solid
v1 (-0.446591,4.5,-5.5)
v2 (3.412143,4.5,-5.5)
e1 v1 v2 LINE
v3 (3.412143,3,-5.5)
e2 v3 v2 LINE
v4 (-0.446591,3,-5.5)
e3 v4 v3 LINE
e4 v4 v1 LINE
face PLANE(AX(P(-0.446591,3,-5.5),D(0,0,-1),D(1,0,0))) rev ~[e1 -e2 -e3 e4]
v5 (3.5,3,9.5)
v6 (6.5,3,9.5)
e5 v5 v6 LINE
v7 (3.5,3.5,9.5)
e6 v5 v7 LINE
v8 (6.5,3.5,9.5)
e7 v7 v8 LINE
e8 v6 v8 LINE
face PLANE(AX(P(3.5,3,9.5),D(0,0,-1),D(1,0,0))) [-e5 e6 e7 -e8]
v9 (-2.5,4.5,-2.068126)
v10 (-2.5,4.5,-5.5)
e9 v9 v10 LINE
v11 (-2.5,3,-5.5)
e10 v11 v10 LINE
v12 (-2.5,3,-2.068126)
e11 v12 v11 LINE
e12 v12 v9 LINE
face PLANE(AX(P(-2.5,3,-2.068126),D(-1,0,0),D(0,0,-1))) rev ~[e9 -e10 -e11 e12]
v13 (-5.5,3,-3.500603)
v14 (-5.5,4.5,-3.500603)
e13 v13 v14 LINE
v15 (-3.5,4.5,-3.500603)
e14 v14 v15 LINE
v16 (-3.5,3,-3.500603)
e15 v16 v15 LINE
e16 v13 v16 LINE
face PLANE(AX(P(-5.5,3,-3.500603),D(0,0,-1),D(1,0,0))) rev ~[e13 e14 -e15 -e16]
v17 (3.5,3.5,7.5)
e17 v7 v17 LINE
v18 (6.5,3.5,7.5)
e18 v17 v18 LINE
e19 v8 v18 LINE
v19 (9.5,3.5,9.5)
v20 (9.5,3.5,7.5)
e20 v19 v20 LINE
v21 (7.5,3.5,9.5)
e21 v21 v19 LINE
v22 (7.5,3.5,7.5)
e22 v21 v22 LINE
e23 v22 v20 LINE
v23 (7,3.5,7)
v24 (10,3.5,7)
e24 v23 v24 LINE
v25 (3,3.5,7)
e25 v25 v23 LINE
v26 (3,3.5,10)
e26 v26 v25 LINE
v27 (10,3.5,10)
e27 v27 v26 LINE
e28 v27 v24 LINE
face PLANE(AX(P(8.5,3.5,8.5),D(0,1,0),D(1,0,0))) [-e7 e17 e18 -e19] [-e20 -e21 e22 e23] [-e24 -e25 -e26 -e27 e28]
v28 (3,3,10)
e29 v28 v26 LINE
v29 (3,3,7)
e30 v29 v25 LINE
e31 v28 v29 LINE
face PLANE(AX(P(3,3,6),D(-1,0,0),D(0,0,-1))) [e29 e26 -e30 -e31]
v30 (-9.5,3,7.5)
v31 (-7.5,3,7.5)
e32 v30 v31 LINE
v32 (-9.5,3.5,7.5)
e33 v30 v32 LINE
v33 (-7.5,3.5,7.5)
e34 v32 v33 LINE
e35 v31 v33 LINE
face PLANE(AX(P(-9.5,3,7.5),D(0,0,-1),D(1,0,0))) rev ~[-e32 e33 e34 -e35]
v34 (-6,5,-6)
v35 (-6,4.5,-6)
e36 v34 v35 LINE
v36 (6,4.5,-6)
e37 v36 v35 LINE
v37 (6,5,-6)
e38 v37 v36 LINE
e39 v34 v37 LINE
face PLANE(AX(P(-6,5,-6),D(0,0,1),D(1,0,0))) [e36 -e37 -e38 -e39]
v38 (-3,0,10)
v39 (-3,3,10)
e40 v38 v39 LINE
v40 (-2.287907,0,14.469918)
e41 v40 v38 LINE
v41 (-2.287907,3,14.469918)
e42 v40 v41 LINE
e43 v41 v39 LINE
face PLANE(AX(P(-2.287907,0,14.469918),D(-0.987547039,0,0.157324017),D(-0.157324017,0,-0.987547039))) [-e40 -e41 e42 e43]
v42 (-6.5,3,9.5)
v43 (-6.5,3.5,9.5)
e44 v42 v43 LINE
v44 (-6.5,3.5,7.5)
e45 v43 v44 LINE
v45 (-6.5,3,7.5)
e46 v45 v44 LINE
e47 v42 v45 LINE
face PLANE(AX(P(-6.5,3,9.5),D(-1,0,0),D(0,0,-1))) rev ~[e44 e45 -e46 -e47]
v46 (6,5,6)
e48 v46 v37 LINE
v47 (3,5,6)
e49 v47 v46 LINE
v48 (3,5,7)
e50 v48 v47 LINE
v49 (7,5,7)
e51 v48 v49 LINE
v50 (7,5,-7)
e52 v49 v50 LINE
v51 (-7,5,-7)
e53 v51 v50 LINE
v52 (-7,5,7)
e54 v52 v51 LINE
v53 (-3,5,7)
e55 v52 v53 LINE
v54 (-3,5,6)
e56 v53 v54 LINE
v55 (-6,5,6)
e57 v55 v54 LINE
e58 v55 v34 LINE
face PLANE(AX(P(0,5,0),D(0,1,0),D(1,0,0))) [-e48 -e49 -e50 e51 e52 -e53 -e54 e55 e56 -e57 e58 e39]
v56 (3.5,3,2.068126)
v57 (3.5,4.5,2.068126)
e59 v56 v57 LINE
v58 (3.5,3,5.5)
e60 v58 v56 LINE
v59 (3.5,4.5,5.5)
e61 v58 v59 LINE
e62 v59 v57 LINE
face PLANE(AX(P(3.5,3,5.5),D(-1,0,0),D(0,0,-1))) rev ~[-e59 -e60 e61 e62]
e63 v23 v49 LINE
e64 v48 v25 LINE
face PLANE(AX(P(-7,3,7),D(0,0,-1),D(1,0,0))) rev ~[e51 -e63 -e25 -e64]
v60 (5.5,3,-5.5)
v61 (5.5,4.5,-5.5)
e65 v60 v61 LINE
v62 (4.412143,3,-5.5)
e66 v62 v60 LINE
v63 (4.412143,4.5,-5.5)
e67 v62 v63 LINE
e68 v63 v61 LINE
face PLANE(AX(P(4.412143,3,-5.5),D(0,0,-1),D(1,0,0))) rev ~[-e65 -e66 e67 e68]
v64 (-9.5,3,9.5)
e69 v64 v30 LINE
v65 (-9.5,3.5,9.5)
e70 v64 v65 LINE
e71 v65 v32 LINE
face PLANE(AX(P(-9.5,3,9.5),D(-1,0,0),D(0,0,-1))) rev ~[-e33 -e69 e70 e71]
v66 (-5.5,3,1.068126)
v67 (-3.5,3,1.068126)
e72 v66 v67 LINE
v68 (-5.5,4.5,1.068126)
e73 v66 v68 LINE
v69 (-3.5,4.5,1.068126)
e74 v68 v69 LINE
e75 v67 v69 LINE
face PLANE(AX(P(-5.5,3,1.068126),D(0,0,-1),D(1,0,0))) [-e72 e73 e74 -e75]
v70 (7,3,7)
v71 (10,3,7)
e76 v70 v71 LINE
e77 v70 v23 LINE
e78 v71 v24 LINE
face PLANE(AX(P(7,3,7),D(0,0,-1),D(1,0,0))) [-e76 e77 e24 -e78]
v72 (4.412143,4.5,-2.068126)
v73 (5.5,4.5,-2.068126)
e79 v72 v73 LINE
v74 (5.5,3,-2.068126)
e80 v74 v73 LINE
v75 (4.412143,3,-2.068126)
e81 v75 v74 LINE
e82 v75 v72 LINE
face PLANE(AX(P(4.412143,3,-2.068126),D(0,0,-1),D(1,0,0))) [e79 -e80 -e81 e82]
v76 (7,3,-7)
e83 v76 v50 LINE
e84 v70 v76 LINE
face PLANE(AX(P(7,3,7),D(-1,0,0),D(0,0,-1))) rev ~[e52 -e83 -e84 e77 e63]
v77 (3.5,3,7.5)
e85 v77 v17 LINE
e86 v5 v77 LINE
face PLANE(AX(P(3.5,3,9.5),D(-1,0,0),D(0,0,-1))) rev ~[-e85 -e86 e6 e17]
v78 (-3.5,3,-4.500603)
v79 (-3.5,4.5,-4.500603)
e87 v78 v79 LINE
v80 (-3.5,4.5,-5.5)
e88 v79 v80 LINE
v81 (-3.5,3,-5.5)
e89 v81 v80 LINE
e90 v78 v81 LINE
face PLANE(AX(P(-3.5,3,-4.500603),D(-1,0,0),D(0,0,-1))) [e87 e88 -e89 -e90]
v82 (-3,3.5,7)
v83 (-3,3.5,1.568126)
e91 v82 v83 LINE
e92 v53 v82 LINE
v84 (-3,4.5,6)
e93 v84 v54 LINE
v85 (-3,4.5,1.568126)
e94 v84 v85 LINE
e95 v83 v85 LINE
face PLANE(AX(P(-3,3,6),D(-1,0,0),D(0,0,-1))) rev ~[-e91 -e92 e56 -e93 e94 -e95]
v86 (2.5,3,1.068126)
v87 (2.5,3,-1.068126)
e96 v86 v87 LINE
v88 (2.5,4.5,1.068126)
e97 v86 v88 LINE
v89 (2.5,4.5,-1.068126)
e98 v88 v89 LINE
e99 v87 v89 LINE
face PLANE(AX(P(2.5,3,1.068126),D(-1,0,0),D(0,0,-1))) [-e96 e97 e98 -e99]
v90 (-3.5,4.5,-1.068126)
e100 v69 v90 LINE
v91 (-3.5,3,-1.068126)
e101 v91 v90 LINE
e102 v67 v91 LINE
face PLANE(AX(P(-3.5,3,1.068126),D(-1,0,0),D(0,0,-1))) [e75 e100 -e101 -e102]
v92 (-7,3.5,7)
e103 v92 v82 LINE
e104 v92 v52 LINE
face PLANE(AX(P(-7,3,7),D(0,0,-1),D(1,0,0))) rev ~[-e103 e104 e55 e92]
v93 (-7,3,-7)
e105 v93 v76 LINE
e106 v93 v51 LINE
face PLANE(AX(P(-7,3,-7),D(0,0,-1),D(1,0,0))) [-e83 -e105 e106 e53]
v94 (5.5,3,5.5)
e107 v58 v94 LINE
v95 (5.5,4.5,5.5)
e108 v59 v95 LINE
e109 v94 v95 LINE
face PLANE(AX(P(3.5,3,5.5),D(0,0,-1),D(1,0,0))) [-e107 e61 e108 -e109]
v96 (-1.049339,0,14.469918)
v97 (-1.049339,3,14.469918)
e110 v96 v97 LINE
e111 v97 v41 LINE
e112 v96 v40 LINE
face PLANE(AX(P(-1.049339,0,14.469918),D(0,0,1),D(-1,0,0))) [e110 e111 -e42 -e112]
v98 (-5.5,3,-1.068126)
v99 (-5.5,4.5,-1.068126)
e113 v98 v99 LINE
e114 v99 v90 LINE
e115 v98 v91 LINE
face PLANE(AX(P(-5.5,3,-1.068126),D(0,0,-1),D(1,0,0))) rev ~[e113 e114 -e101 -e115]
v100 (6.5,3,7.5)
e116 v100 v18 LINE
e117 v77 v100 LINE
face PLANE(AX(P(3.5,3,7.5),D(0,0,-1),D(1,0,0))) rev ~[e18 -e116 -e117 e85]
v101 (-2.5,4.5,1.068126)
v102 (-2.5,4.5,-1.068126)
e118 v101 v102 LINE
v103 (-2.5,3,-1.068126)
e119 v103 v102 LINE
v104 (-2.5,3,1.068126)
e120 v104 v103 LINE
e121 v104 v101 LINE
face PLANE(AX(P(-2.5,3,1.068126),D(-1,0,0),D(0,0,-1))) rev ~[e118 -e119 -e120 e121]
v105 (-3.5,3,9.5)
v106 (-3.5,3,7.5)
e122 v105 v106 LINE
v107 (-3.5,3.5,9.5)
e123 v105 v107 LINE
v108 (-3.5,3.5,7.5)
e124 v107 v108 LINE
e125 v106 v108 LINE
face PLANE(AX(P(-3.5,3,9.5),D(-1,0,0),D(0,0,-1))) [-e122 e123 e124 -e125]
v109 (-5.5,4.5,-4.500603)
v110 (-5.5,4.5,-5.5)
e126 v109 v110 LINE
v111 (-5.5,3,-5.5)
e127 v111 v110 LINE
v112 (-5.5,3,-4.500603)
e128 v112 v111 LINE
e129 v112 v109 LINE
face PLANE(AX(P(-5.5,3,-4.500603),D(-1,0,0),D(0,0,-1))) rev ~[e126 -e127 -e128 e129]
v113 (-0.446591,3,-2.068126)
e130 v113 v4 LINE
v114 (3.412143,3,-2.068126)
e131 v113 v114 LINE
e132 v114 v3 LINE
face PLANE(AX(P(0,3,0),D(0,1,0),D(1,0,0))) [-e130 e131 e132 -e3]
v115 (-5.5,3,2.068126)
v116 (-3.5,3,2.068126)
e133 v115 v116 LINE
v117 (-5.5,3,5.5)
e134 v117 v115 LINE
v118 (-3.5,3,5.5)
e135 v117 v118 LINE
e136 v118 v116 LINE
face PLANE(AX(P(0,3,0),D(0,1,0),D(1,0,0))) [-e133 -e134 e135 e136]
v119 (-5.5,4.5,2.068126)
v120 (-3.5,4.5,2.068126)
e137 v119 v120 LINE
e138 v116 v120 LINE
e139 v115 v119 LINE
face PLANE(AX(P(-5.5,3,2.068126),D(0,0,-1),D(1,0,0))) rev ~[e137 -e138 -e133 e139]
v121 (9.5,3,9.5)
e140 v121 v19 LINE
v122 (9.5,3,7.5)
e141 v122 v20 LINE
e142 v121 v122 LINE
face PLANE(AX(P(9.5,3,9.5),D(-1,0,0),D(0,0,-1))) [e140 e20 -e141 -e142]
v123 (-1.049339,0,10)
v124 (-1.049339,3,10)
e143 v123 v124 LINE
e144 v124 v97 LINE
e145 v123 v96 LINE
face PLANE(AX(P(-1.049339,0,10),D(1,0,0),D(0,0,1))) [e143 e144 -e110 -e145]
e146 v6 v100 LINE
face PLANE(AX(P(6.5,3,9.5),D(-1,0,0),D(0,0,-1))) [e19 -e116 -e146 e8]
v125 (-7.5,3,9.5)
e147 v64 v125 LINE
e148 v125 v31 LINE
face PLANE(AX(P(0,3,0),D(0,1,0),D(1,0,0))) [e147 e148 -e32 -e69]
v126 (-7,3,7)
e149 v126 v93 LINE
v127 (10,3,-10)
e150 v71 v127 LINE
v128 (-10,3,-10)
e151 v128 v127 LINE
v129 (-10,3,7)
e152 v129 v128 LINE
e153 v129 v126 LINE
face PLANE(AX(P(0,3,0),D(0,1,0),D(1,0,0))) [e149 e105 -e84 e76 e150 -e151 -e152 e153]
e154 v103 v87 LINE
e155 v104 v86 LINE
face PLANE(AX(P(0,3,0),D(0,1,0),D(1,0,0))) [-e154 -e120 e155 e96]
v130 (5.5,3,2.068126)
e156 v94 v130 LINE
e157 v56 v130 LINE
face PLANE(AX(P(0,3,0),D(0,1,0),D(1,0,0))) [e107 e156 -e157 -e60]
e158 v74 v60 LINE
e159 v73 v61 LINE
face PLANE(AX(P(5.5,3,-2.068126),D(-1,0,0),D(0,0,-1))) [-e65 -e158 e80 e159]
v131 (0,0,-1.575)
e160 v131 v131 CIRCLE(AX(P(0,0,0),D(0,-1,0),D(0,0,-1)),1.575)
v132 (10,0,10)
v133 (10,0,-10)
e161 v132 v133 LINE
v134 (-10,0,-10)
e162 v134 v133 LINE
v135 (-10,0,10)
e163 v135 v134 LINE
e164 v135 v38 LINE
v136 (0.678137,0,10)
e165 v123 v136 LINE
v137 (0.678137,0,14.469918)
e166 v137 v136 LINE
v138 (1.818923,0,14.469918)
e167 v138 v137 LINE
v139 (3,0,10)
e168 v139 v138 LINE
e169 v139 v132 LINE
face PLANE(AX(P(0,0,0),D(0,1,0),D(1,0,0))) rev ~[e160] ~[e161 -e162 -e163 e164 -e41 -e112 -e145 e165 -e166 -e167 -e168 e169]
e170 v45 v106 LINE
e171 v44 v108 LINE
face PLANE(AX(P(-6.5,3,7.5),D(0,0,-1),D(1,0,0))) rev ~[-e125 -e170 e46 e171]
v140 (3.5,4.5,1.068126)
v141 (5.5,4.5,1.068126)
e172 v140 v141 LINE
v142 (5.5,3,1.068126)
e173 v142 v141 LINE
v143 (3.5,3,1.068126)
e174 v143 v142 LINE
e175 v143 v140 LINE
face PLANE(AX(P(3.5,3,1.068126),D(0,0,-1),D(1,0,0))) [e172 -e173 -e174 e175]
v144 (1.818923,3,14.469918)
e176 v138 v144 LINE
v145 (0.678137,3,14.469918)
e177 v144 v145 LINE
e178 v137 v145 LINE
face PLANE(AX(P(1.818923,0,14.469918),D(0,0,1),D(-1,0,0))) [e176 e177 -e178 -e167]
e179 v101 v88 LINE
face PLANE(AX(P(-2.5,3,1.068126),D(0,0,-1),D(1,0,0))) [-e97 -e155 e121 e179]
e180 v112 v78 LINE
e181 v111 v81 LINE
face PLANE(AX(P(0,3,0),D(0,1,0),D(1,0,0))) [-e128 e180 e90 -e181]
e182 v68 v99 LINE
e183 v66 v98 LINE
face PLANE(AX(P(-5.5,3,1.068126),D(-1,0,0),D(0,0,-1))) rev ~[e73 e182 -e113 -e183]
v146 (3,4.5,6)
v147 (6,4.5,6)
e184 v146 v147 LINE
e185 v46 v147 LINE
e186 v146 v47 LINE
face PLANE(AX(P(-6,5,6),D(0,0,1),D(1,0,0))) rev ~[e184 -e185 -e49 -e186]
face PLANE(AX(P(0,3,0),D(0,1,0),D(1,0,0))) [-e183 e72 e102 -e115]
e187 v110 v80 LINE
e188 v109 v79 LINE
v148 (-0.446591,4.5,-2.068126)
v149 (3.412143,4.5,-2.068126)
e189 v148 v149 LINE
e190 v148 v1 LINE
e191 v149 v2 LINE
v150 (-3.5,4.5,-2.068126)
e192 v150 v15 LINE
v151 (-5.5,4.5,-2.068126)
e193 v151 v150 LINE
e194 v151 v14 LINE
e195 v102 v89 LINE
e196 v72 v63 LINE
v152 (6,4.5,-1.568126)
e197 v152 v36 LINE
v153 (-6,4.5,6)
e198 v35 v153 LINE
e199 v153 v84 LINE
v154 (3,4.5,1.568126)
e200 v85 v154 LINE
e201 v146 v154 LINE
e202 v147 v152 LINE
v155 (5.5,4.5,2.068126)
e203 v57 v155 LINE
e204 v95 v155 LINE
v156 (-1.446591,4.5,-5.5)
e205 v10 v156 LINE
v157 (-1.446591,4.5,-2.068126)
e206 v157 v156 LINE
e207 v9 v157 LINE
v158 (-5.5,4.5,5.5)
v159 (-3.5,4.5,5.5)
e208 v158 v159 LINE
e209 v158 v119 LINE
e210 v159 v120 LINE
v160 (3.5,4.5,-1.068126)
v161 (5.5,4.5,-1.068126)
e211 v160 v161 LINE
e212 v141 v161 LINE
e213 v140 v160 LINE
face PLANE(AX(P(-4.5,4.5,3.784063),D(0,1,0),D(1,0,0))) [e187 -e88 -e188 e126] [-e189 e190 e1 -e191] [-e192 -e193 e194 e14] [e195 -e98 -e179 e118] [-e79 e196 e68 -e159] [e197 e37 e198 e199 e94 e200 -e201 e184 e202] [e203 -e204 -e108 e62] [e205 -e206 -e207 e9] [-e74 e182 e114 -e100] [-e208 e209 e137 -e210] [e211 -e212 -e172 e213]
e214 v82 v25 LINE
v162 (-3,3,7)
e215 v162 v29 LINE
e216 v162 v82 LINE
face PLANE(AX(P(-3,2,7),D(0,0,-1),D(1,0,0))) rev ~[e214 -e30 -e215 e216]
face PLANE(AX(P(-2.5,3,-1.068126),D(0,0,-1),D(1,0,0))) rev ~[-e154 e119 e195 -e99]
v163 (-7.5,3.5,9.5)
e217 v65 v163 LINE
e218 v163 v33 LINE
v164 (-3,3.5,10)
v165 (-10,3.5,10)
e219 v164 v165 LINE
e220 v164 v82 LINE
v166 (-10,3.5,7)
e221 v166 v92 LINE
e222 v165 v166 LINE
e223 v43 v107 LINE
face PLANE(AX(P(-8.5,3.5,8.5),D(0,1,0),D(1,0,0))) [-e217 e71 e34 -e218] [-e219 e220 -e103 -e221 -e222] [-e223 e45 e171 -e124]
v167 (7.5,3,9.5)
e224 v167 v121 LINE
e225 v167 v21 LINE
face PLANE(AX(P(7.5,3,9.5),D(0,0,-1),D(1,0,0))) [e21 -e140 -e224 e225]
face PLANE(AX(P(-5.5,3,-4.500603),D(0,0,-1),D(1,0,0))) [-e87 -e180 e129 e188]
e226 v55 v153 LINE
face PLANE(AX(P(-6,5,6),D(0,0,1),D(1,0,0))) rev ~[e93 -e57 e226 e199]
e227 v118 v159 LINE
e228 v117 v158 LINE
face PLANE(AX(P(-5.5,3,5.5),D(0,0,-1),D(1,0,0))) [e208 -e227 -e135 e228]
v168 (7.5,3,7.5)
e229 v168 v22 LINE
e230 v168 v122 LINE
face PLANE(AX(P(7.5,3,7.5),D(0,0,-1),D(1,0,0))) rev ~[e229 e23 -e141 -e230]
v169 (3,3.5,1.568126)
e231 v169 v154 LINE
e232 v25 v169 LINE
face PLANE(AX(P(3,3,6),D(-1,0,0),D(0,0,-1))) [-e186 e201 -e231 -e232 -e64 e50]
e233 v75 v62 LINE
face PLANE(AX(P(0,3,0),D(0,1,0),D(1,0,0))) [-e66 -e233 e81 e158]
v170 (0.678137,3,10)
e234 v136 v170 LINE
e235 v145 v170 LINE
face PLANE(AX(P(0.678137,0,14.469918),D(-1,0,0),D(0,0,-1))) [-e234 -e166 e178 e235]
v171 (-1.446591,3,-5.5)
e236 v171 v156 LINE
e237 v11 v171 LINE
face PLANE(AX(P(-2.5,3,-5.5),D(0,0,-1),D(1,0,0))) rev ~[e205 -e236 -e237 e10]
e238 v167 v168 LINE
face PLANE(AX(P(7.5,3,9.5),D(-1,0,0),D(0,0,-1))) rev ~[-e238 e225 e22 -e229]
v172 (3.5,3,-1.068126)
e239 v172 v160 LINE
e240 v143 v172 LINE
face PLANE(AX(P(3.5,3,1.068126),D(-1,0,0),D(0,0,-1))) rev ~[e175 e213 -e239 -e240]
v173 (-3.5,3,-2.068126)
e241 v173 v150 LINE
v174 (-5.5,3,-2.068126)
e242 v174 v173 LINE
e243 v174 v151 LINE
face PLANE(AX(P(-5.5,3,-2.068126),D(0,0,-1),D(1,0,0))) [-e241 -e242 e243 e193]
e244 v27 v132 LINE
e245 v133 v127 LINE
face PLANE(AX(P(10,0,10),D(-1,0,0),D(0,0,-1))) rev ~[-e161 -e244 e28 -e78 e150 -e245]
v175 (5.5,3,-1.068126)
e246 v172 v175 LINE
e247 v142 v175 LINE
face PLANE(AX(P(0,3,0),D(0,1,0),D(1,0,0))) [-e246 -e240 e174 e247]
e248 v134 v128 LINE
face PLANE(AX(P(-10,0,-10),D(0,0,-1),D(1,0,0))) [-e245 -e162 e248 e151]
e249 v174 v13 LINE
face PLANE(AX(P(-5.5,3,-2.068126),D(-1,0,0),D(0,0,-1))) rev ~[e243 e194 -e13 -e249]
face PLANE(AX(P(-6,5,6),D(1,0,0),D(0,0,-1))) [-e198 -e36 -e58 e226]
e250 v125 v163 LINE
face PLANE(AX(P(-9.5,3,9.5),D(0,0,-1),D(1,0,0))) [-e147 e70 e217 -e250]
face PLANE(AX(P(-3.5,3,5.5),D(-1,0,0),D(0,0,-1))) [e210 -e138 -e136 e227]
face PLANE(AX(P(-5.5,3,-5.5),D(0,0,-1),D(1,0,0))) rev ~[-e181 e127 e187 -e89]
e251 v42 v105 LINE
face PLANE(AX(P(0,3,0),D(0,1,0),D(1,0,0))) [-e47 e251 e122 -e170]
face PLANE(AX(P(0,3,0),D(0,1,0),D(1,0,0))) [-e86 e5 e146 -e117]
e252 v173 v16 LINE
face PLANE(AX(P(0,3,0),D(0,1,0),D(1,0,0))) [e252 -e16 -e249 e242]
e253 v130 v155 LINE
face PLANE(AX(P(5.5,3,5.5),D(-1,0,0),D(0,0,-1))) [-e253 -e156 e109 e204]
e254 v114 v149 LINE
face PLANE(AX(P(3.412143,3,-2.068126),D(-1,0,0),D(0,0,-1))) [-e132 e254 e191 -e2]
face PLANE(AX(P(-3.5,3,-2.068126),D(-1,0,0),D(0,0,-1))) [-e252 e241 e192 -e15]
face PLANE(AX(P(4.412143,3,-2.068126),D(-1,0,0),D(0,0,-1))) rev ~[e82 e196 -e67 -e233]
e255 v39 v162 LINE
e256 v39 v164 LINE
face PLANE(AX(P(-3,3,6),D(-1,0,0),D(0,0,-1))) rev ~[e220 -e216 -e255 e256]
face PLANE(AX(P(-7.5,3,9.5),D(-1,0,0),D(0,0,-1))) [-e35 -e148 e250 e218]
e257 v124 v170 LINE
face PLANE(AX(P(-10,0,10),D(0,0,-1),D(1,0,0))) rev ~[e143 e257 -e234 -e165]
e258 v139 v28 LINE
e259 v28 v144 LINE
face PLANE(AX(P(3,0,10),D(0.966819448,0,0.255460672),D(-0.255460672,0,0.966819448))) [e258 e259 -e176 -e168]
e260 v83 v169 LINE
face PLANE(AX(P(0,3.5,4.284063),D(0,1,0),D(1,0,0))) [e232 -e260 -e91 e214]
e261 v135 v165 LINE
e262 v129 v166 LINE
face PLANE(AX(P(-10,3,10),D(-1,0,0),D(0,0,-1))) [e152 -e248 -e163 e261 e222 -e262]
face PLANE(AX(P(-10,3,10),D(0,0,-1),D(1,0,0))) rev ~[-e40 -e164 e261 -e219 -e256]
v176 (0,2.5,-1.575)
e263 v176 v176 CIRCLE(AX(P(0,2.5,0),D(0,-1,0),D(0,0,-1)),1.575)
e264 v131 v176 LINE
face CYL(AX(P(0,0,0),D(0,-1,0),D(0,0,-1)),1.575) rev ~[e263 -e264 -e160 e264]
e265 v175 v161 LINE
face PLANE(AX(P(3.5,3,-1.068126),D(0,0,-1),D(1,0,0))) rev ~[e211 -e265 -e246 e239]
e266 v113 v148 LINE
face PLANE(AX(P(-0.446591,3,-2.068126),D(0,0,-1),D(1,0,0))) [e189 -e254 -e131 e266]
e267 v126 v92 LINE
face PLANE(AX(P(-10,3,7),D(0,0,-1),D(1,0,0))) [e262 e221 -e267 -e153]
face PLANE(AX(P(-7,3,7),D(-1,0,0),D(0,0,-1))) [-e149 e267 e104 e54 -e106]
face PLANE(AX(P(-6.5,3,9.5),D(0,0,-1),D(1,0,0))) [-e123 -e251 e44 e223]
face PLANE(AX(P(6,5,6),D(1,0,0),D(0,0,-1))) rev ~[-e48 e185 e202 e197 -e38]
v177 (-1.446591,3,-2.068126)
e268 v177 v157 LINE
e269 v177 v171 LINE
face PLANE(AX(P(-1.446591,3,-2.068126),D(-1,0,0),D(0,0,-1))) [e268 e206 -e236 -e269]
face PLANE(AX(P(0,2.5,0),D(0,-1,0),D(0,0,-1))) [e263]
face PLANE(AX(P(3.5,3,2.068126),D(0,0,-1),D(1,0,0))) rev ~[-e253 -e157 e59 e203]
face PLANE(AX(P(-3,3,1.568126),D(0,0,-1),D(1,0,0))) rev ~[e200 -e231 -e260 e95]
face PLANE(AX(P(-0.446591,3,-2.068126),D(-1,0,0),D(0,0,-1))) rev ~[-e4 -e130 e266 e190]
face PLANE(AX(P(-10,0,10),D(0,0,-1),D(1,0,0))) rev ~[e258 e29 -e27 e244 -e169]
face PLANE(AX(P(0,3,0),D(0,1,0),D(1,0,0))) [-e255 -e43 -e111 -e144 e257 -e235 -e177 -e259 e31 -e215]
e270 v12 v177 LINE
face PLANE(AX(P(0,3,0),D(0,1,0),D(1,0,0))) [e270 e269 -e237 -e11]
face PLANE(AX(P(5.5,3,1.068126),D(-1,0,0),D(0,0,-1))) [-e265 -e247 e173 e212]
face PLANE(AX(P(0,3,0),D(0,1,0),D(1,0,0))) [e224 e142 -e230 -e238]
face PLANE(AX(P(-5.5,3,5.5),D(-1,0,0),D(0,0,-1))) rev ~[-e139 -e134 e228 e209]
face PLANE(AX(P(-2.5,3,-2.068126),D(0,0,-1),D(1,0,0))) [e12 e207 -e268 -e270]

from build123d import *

# Parameters (mm, degrees)
CROQUIS1_W              = 20
CROQUIS1_H              = 20
SALIENTE_EXTRUIR1_DEPTH = 3
CROQUIS2_W              = 14
CROQUIS2_H              = 14
SALIENTE_EXTRUIR2_DEPTH = 2
CROQUIS3_W              = 12
CROQUIS3_H              = 12
CORTAR_EXTRUIR1_DEPTH   = 2
CROQUIS4_W              = 6
CROQUIS4_H              = 2.600399467
CORTAR_EXTRUIR2_DEPTH   = 3
SALIENTE_EXTRUIR3_DEPTH = 3
CROQUIS6_W              = 3
CROQUIS6_H              = 3
CROQUIS6_W_2            = 2
CROQUIS6_H_2            = 2
CROQUIS6_W_3            = 4
SALIENTE_EXTRUIR4_DEPTH = 0.5
CROQUIS7_W              = 6
CROQUIS7_H              = 2.831475003
CORTAR_EXTRUIR3_DEPTH   = 1
CROQUIS8_W              = 1
CROQUIS8_H              = 5.440516932
SALIENTE_EXTRUIR5_DEPTH = 0.5
CROQUIS10_W             = 3
CROQUIS10_H             = 4.43187447
CROQUIS10_W_2           = 2
CROQUIS10_H_2           = 3.43187447
CROQUIS10_H_3           = 3.13625106
CROQUIS10_H_4           = 2.13625106
CROQUIS10_H_5           = 2.43247793
CROQUIS10_H_6           = 1.43247793
CROQUIS10_W_3           = 1.053408661
CROQUIS10_W_4           = 3.858734252
CROQUIS10_W_5           = 5
CROQUIS10_W_6           = 2.087857087
CROQUIS10_W_7           = 1.087857087
CROQUIS10_H_7           = 1.99939654
CROQUIS10_H_8           = 0.99939654
SALIENTE_EXTRUIR6_DEPTH = 1.5
CROQUIS11_W             = 6
CROQUIS11_H             = 5.43187447
SALIENTE_EXTRUIR7_DEPTH = 1.5
CROQUIS12_R             = 1.575
CORTAR_EXTRUIR4_DEPTH   = 2.5


with BuildPart() as part:
    # Croquis1 → Saliente-Extruir1 (new body)
    with BuildSketch(Plane(origin=(0, 0, 0), x_dir=(1, 0, 0), z_dir=(0, 1, 0))):
        Rectangle(CROQUIS1_W, CROQUIS1_H)
    extrude(amount=SALIENTE_EXTRUIR1_DEPTH)

    # Croquis2 → Saliente-Extruir2 (add)
    with BuildSketch(Plane(origin=(0, 3, 0), x_dir=(1, 0, 0), z_dir=(0, 1, 0))):
        Rectangle(CROQUIS2_W, CROQUIS2_H)
    extrude(amount=SALIENTE_EXTRUIR2_DEPTH)

    # Croquis3 → Cortar-Extruir1 (cut)
    with BuildSketch(Plane(origin=(0, 5, 0), x_dir=(1, 0, 0), z_dir=(0, 1, 0))):
        Rectangle(CROQUIS3_W, CROQUIS3_H)
    extrude(amount=-CORTAR_EXTRUIR1_DEPTH, mode=Mode.SUBTRACT)

    # Croquis4 → Cortar-Extruir2 (cut)
    with BuildSketch(Plane(origin=(0, 5, 0), x_dir=(1, 0, 0), z_dir=(0, 1, 0))):
        with Locations((0, -5.699800267)):
            Rectangle(CROQUIS4_W, CROQUIS4_H)
    extrude(amount=-CORTAR_EXTRUIR2_DEPTH, mode=Mode.SUBTRACT)

    # Croquis5 → Saliente-Extruir3 (add)
    with BuildSketch(Plane(origin=(0, 0, 0), x_dir=(1, 0, 0), z_dir=(0, 1, 0))):
        Polygon((-3, -10), (-1.049339158, -10), (-1.049339158, -14.469917755), (-2.287906915, -14.469917755), align=None)
        Polygon((0.678136925, -10), (3, -10), (1.818923018, -14.469917755), (0.678136925, -14.469917755), align=None)
    extrude(amount=SALIENTE_EXTRUIR3_DEPTH)

    # Croquis6 → Saliente-Extruir4 (add)
    # profile 1 of 4: a face of its own
    with BuildSketch(Plane(origin=(0, 3, 0), x_dir=(1, 0, 0), z_dir=(0, 1, 0))):
        with Locations((-8.5, -8.5)):
            Rectangle(CROQUIS6_W, CROQUIS6_H)
        with Locations((-8.5, -8.5)):
            Rectangle(CROQUIS6_W_2, CROQUIS6_H_2, mode=Mode.SUBTRACT)
    # profile 2 of 4: a face of its own
    with BuildSketch(Plane(origin=(0, 3, 0), x_dir=(1, 0, 0), z_dir=(0, 1, 0))):
        with Locations((-5, -8.5)):
            Rectangle(CROQUIS6_W_3, CROQUIS6_H)
        with Locations((-5, -8.5)):
            Rectangle(CROQUIS6_W, CROQUIS6_H_2, mode=Mode.SUBTRACT)
    # profile 3 of 4: a face of its own
    with BuildSketch(Plane(origin=(0, 3, 0), x_dir=(1, 0, 0), z_dir=(0, 1, 0))):
        with Locations((5, -8.5)):
            Rectangle(CROQUIS6_W_3, CROQUIS6_H)
        with Locations((5, -8.5)):
            Rectangle(CROQUIS6_W, CROQUIS6_H_2, mode=Mode.SUBTRACT)
    # profile 4 of 4: a face of its own
    with BuildSketch(Plane(origin=(0, 3, 0), x_dir=(1, 0, 0), z_dir=(0, 1, 0))):
        with Locations((8.5, -8.5)):
            Rectangle(CROQUIS6_W, CROQUIS6_H)
        with Locations((8.5, -8.5)):
            Rectangle(CROQUIS6_W_2, CROQUIS6_H_2, mode=Mode.SUBTRACT)
    extrude(amount=SALIENTE_EXTRUIR4_DEPTH)

    # Croquis7 → Cortar-Extruir3 (cut)
    with BuildSketch(Plane(origin=(0, 3, 0), x_dir=(1, 0, 0), z_dir=(0, 1, 0))):
        with Locations((0, -2.983863032)):
            Rectangle(CROQUIS7_W, CROQUIS7_H)
    extrude(amount=-CORTAR_EXTRUIR3_DEPTH, mode=Mode.SUBTRACT)

    # Croquis8 → Saliente-Extruir5 (add)
    with BuildSketch(Plane(origin=(0, 3, 0), x_dir=(1, 0, 0), z_dir=(0, 1, 0))):
        with Locations((-2.5, -4.288383996)):
            Rectangle(CROQUIS8_W, CROQUIS8_H)
    extrude(amount=-SALIENTE_EXTRUIR5_DEPTH)

    # Croquis10 → Saliente-Extruir6 (add)
    # profile 1 of 10: a face of its own
    with BuildSketch(Plane(origin=(0, 3, 0), x_dir=(1, 0, 0), z_dir=(0, 1, 0))):
        with Locations((-4.5, -3.784062765)):
            Rectangle(CROQUIS10_W, CROQUIS10_H)
        with Locations((-4.5, -3.784062765)):
            Rectangle(CROQUIS10_W_2, CROQUIS10_H_2, mode=Mode.SUBTRACT)
    # profile 2 of 10: a face of its own
    with BuildSketch(Plane(origin=(0, 3, 0), x_dir=(1, 0, 0), z_dir=(0, 1, 0))):
        with Locations((-4.5, 0)):
            Rectangle(CROQUIS10_W, CROQUIS10_H_3)
        with Locations((-4.5, 0)):
            Rectangle(CROQUIS10_W_2, CROQUIS10_H_4, mode=Mode.SUBTRACT)
    # profile 3 of 10: a face of its own
    with BuildSketch(Plane(origin=(0, 3, 0), x_dir=(1, 0, 0), z_dir=(0, 1, 0))):
        with Locations((-4.5, 2.784364495)):
            Rectangle(CROQUIS10_W, CROQUIS10_H_5)
        with Locations((-4.5, 2.784364495)):
            Rectangle(CROQUIS10_W_2, CROQUIS10_H_6, mode=Mode.SUBTRACT)
    # profile 4 of 10: a face of its own
    with BuildSketch(Plane(origin=(0, 3, 0), x_dir=(1, 0, 0), z_dir=(0, 1, 0))):
        Polygon((-0.946591339, 6), (-3, 6), (-3, 4.00060346), (-3, 1.56812553), (-0.946591339, 1.56812553), align=None)
        with Locations((-1.97329567, 3.784062765)):
            Rectangle(CROQUIS10_W_3, CROQUIS10_H_2, mode=Mode.SUBTRACT)
    # profile 5 of 10: a face of its own
    with BuildSketch(Plane(origin=(0, 3, 0), x_dir=(1, 0, 0), z_dir=(0, 1, 0))):
        Polygon((3.912142913, 6), (-0.946591339, 6), (-0.946591339, 1.56812553), (3, 1.56812553), (3.912142913, 1.56812553), align=None)
        with Locations((1.482775787, 3.784062765)):
            Rectangle(CROQUIS10_W_4, CROQUIS10_H_2, mode=Mode.SUBTRACT)
    # profile 6 of 10: a face of its own
    with BuildSketch(Plane(origin=(0, 3, 0), x_dir=(1, 0, 0), z_dir=(0, 1, 0))):
        Polygon((-0.946591339, 1.56812553), (-3, 1.56812553), (-3, -1.56812553), (3, -1.56812553), (3, 1.56812553), align=None)
        Rectangle(CROQUIS10_W_5, CROQUIS10_H_4, mode=Mode.SUBTRACT)
    # profile 7 of 10: a face of its own
    with BuildSketch(Plane(origin=(0, 3, 0), x_dir=(1, 0, 0), z_dir=(0, 1, 0))):
        with Locations((4.956071457, 3.784062765)):
            Rectangle(CROQUIS10_W_6, CROQUIS10_H)
        with Locations((4.956071457, 3.784062765)):
            Rectangle(CROQUIS10_W_7, CROQUIS10_H_2, mode=Mode.SUBTRACT)
    # profile 8 of 10: a face of its own
    with BuildSketch(Plane(origin=(0, 3, 0), x_dir=(1, 0, 0), z_dir=(0, 1, 0))):
        Polygon((3.912142913, 1.56812553), (3, 1.56812553), (3, -1.56812553), (6, -1.56812553), (6, 1.56812553), align=None)
        with Locations((4.5, 0)):
            Rectangle(CROQUIS10_W_2, CROQUIS10_H_4, mode=Mode.SUBTRACT)
    # profile 9 of 10: a face of its own
    with BuildSketch(Plane(origin=(0, 3, 0), x_dir=(1, 0, 0), z_dir=(0, 1, 0))):
        with Locations((4.5, -3.784062765)):
            Rectangle(CROQUIS10_W, CROQUIS10_H)
        with Locations((4.5, -3.784062765)):
            Rectangle(CROQUIS10_W_2, CROQUIS10_H_2, mode=Mode.SUBTRACT)
    # profile 10 of 10: a face of its own
    with BuildSketch(Plane(origin=(0, 3, 0), x_dir=(1, 0, 0), z_dir=(0, 1, 0))):
        with Locations((-4.5, 5.00030173)):
            Rectangle(CROQUIS10_W, CROQUIS10_H_7)
        with Locations((-4.5, 5.00030173)):
            Rectangle(CROQUIS10_W_2, CROQUIS10_H_8, mode=Mode.SUBTRACT)
    extrude(amount=SALIENTE_EXTRUIR6_DEPTH)

    # Croquis11 → Saliente-Extruir7 (add)
    with BuildSketch(Plane(origin=(0, 2, 0), x_dir=(1, 0, 0), z_dir=(0, 1, 0))):
        with Locations((0, -4.284062765)):
            Rectangle(CROQUIS11_W, CROQUIS11_H)
    extrude(amount=SALIENTE_EXTRUIR7_DEPTH)

    # Croquis12 → Cortar-Extruir4 (cut)
    with BuildSketch(Plane.XZ):
        with Locations(Location((0, 0, 0), (0, 0, 270))):
            Circle(CROQUIS12_R)
    extrude(amount=-CORTAR_EXTRUIR4_DEPTH, mode=Mode.SUBTRACT)


solid = part.part
